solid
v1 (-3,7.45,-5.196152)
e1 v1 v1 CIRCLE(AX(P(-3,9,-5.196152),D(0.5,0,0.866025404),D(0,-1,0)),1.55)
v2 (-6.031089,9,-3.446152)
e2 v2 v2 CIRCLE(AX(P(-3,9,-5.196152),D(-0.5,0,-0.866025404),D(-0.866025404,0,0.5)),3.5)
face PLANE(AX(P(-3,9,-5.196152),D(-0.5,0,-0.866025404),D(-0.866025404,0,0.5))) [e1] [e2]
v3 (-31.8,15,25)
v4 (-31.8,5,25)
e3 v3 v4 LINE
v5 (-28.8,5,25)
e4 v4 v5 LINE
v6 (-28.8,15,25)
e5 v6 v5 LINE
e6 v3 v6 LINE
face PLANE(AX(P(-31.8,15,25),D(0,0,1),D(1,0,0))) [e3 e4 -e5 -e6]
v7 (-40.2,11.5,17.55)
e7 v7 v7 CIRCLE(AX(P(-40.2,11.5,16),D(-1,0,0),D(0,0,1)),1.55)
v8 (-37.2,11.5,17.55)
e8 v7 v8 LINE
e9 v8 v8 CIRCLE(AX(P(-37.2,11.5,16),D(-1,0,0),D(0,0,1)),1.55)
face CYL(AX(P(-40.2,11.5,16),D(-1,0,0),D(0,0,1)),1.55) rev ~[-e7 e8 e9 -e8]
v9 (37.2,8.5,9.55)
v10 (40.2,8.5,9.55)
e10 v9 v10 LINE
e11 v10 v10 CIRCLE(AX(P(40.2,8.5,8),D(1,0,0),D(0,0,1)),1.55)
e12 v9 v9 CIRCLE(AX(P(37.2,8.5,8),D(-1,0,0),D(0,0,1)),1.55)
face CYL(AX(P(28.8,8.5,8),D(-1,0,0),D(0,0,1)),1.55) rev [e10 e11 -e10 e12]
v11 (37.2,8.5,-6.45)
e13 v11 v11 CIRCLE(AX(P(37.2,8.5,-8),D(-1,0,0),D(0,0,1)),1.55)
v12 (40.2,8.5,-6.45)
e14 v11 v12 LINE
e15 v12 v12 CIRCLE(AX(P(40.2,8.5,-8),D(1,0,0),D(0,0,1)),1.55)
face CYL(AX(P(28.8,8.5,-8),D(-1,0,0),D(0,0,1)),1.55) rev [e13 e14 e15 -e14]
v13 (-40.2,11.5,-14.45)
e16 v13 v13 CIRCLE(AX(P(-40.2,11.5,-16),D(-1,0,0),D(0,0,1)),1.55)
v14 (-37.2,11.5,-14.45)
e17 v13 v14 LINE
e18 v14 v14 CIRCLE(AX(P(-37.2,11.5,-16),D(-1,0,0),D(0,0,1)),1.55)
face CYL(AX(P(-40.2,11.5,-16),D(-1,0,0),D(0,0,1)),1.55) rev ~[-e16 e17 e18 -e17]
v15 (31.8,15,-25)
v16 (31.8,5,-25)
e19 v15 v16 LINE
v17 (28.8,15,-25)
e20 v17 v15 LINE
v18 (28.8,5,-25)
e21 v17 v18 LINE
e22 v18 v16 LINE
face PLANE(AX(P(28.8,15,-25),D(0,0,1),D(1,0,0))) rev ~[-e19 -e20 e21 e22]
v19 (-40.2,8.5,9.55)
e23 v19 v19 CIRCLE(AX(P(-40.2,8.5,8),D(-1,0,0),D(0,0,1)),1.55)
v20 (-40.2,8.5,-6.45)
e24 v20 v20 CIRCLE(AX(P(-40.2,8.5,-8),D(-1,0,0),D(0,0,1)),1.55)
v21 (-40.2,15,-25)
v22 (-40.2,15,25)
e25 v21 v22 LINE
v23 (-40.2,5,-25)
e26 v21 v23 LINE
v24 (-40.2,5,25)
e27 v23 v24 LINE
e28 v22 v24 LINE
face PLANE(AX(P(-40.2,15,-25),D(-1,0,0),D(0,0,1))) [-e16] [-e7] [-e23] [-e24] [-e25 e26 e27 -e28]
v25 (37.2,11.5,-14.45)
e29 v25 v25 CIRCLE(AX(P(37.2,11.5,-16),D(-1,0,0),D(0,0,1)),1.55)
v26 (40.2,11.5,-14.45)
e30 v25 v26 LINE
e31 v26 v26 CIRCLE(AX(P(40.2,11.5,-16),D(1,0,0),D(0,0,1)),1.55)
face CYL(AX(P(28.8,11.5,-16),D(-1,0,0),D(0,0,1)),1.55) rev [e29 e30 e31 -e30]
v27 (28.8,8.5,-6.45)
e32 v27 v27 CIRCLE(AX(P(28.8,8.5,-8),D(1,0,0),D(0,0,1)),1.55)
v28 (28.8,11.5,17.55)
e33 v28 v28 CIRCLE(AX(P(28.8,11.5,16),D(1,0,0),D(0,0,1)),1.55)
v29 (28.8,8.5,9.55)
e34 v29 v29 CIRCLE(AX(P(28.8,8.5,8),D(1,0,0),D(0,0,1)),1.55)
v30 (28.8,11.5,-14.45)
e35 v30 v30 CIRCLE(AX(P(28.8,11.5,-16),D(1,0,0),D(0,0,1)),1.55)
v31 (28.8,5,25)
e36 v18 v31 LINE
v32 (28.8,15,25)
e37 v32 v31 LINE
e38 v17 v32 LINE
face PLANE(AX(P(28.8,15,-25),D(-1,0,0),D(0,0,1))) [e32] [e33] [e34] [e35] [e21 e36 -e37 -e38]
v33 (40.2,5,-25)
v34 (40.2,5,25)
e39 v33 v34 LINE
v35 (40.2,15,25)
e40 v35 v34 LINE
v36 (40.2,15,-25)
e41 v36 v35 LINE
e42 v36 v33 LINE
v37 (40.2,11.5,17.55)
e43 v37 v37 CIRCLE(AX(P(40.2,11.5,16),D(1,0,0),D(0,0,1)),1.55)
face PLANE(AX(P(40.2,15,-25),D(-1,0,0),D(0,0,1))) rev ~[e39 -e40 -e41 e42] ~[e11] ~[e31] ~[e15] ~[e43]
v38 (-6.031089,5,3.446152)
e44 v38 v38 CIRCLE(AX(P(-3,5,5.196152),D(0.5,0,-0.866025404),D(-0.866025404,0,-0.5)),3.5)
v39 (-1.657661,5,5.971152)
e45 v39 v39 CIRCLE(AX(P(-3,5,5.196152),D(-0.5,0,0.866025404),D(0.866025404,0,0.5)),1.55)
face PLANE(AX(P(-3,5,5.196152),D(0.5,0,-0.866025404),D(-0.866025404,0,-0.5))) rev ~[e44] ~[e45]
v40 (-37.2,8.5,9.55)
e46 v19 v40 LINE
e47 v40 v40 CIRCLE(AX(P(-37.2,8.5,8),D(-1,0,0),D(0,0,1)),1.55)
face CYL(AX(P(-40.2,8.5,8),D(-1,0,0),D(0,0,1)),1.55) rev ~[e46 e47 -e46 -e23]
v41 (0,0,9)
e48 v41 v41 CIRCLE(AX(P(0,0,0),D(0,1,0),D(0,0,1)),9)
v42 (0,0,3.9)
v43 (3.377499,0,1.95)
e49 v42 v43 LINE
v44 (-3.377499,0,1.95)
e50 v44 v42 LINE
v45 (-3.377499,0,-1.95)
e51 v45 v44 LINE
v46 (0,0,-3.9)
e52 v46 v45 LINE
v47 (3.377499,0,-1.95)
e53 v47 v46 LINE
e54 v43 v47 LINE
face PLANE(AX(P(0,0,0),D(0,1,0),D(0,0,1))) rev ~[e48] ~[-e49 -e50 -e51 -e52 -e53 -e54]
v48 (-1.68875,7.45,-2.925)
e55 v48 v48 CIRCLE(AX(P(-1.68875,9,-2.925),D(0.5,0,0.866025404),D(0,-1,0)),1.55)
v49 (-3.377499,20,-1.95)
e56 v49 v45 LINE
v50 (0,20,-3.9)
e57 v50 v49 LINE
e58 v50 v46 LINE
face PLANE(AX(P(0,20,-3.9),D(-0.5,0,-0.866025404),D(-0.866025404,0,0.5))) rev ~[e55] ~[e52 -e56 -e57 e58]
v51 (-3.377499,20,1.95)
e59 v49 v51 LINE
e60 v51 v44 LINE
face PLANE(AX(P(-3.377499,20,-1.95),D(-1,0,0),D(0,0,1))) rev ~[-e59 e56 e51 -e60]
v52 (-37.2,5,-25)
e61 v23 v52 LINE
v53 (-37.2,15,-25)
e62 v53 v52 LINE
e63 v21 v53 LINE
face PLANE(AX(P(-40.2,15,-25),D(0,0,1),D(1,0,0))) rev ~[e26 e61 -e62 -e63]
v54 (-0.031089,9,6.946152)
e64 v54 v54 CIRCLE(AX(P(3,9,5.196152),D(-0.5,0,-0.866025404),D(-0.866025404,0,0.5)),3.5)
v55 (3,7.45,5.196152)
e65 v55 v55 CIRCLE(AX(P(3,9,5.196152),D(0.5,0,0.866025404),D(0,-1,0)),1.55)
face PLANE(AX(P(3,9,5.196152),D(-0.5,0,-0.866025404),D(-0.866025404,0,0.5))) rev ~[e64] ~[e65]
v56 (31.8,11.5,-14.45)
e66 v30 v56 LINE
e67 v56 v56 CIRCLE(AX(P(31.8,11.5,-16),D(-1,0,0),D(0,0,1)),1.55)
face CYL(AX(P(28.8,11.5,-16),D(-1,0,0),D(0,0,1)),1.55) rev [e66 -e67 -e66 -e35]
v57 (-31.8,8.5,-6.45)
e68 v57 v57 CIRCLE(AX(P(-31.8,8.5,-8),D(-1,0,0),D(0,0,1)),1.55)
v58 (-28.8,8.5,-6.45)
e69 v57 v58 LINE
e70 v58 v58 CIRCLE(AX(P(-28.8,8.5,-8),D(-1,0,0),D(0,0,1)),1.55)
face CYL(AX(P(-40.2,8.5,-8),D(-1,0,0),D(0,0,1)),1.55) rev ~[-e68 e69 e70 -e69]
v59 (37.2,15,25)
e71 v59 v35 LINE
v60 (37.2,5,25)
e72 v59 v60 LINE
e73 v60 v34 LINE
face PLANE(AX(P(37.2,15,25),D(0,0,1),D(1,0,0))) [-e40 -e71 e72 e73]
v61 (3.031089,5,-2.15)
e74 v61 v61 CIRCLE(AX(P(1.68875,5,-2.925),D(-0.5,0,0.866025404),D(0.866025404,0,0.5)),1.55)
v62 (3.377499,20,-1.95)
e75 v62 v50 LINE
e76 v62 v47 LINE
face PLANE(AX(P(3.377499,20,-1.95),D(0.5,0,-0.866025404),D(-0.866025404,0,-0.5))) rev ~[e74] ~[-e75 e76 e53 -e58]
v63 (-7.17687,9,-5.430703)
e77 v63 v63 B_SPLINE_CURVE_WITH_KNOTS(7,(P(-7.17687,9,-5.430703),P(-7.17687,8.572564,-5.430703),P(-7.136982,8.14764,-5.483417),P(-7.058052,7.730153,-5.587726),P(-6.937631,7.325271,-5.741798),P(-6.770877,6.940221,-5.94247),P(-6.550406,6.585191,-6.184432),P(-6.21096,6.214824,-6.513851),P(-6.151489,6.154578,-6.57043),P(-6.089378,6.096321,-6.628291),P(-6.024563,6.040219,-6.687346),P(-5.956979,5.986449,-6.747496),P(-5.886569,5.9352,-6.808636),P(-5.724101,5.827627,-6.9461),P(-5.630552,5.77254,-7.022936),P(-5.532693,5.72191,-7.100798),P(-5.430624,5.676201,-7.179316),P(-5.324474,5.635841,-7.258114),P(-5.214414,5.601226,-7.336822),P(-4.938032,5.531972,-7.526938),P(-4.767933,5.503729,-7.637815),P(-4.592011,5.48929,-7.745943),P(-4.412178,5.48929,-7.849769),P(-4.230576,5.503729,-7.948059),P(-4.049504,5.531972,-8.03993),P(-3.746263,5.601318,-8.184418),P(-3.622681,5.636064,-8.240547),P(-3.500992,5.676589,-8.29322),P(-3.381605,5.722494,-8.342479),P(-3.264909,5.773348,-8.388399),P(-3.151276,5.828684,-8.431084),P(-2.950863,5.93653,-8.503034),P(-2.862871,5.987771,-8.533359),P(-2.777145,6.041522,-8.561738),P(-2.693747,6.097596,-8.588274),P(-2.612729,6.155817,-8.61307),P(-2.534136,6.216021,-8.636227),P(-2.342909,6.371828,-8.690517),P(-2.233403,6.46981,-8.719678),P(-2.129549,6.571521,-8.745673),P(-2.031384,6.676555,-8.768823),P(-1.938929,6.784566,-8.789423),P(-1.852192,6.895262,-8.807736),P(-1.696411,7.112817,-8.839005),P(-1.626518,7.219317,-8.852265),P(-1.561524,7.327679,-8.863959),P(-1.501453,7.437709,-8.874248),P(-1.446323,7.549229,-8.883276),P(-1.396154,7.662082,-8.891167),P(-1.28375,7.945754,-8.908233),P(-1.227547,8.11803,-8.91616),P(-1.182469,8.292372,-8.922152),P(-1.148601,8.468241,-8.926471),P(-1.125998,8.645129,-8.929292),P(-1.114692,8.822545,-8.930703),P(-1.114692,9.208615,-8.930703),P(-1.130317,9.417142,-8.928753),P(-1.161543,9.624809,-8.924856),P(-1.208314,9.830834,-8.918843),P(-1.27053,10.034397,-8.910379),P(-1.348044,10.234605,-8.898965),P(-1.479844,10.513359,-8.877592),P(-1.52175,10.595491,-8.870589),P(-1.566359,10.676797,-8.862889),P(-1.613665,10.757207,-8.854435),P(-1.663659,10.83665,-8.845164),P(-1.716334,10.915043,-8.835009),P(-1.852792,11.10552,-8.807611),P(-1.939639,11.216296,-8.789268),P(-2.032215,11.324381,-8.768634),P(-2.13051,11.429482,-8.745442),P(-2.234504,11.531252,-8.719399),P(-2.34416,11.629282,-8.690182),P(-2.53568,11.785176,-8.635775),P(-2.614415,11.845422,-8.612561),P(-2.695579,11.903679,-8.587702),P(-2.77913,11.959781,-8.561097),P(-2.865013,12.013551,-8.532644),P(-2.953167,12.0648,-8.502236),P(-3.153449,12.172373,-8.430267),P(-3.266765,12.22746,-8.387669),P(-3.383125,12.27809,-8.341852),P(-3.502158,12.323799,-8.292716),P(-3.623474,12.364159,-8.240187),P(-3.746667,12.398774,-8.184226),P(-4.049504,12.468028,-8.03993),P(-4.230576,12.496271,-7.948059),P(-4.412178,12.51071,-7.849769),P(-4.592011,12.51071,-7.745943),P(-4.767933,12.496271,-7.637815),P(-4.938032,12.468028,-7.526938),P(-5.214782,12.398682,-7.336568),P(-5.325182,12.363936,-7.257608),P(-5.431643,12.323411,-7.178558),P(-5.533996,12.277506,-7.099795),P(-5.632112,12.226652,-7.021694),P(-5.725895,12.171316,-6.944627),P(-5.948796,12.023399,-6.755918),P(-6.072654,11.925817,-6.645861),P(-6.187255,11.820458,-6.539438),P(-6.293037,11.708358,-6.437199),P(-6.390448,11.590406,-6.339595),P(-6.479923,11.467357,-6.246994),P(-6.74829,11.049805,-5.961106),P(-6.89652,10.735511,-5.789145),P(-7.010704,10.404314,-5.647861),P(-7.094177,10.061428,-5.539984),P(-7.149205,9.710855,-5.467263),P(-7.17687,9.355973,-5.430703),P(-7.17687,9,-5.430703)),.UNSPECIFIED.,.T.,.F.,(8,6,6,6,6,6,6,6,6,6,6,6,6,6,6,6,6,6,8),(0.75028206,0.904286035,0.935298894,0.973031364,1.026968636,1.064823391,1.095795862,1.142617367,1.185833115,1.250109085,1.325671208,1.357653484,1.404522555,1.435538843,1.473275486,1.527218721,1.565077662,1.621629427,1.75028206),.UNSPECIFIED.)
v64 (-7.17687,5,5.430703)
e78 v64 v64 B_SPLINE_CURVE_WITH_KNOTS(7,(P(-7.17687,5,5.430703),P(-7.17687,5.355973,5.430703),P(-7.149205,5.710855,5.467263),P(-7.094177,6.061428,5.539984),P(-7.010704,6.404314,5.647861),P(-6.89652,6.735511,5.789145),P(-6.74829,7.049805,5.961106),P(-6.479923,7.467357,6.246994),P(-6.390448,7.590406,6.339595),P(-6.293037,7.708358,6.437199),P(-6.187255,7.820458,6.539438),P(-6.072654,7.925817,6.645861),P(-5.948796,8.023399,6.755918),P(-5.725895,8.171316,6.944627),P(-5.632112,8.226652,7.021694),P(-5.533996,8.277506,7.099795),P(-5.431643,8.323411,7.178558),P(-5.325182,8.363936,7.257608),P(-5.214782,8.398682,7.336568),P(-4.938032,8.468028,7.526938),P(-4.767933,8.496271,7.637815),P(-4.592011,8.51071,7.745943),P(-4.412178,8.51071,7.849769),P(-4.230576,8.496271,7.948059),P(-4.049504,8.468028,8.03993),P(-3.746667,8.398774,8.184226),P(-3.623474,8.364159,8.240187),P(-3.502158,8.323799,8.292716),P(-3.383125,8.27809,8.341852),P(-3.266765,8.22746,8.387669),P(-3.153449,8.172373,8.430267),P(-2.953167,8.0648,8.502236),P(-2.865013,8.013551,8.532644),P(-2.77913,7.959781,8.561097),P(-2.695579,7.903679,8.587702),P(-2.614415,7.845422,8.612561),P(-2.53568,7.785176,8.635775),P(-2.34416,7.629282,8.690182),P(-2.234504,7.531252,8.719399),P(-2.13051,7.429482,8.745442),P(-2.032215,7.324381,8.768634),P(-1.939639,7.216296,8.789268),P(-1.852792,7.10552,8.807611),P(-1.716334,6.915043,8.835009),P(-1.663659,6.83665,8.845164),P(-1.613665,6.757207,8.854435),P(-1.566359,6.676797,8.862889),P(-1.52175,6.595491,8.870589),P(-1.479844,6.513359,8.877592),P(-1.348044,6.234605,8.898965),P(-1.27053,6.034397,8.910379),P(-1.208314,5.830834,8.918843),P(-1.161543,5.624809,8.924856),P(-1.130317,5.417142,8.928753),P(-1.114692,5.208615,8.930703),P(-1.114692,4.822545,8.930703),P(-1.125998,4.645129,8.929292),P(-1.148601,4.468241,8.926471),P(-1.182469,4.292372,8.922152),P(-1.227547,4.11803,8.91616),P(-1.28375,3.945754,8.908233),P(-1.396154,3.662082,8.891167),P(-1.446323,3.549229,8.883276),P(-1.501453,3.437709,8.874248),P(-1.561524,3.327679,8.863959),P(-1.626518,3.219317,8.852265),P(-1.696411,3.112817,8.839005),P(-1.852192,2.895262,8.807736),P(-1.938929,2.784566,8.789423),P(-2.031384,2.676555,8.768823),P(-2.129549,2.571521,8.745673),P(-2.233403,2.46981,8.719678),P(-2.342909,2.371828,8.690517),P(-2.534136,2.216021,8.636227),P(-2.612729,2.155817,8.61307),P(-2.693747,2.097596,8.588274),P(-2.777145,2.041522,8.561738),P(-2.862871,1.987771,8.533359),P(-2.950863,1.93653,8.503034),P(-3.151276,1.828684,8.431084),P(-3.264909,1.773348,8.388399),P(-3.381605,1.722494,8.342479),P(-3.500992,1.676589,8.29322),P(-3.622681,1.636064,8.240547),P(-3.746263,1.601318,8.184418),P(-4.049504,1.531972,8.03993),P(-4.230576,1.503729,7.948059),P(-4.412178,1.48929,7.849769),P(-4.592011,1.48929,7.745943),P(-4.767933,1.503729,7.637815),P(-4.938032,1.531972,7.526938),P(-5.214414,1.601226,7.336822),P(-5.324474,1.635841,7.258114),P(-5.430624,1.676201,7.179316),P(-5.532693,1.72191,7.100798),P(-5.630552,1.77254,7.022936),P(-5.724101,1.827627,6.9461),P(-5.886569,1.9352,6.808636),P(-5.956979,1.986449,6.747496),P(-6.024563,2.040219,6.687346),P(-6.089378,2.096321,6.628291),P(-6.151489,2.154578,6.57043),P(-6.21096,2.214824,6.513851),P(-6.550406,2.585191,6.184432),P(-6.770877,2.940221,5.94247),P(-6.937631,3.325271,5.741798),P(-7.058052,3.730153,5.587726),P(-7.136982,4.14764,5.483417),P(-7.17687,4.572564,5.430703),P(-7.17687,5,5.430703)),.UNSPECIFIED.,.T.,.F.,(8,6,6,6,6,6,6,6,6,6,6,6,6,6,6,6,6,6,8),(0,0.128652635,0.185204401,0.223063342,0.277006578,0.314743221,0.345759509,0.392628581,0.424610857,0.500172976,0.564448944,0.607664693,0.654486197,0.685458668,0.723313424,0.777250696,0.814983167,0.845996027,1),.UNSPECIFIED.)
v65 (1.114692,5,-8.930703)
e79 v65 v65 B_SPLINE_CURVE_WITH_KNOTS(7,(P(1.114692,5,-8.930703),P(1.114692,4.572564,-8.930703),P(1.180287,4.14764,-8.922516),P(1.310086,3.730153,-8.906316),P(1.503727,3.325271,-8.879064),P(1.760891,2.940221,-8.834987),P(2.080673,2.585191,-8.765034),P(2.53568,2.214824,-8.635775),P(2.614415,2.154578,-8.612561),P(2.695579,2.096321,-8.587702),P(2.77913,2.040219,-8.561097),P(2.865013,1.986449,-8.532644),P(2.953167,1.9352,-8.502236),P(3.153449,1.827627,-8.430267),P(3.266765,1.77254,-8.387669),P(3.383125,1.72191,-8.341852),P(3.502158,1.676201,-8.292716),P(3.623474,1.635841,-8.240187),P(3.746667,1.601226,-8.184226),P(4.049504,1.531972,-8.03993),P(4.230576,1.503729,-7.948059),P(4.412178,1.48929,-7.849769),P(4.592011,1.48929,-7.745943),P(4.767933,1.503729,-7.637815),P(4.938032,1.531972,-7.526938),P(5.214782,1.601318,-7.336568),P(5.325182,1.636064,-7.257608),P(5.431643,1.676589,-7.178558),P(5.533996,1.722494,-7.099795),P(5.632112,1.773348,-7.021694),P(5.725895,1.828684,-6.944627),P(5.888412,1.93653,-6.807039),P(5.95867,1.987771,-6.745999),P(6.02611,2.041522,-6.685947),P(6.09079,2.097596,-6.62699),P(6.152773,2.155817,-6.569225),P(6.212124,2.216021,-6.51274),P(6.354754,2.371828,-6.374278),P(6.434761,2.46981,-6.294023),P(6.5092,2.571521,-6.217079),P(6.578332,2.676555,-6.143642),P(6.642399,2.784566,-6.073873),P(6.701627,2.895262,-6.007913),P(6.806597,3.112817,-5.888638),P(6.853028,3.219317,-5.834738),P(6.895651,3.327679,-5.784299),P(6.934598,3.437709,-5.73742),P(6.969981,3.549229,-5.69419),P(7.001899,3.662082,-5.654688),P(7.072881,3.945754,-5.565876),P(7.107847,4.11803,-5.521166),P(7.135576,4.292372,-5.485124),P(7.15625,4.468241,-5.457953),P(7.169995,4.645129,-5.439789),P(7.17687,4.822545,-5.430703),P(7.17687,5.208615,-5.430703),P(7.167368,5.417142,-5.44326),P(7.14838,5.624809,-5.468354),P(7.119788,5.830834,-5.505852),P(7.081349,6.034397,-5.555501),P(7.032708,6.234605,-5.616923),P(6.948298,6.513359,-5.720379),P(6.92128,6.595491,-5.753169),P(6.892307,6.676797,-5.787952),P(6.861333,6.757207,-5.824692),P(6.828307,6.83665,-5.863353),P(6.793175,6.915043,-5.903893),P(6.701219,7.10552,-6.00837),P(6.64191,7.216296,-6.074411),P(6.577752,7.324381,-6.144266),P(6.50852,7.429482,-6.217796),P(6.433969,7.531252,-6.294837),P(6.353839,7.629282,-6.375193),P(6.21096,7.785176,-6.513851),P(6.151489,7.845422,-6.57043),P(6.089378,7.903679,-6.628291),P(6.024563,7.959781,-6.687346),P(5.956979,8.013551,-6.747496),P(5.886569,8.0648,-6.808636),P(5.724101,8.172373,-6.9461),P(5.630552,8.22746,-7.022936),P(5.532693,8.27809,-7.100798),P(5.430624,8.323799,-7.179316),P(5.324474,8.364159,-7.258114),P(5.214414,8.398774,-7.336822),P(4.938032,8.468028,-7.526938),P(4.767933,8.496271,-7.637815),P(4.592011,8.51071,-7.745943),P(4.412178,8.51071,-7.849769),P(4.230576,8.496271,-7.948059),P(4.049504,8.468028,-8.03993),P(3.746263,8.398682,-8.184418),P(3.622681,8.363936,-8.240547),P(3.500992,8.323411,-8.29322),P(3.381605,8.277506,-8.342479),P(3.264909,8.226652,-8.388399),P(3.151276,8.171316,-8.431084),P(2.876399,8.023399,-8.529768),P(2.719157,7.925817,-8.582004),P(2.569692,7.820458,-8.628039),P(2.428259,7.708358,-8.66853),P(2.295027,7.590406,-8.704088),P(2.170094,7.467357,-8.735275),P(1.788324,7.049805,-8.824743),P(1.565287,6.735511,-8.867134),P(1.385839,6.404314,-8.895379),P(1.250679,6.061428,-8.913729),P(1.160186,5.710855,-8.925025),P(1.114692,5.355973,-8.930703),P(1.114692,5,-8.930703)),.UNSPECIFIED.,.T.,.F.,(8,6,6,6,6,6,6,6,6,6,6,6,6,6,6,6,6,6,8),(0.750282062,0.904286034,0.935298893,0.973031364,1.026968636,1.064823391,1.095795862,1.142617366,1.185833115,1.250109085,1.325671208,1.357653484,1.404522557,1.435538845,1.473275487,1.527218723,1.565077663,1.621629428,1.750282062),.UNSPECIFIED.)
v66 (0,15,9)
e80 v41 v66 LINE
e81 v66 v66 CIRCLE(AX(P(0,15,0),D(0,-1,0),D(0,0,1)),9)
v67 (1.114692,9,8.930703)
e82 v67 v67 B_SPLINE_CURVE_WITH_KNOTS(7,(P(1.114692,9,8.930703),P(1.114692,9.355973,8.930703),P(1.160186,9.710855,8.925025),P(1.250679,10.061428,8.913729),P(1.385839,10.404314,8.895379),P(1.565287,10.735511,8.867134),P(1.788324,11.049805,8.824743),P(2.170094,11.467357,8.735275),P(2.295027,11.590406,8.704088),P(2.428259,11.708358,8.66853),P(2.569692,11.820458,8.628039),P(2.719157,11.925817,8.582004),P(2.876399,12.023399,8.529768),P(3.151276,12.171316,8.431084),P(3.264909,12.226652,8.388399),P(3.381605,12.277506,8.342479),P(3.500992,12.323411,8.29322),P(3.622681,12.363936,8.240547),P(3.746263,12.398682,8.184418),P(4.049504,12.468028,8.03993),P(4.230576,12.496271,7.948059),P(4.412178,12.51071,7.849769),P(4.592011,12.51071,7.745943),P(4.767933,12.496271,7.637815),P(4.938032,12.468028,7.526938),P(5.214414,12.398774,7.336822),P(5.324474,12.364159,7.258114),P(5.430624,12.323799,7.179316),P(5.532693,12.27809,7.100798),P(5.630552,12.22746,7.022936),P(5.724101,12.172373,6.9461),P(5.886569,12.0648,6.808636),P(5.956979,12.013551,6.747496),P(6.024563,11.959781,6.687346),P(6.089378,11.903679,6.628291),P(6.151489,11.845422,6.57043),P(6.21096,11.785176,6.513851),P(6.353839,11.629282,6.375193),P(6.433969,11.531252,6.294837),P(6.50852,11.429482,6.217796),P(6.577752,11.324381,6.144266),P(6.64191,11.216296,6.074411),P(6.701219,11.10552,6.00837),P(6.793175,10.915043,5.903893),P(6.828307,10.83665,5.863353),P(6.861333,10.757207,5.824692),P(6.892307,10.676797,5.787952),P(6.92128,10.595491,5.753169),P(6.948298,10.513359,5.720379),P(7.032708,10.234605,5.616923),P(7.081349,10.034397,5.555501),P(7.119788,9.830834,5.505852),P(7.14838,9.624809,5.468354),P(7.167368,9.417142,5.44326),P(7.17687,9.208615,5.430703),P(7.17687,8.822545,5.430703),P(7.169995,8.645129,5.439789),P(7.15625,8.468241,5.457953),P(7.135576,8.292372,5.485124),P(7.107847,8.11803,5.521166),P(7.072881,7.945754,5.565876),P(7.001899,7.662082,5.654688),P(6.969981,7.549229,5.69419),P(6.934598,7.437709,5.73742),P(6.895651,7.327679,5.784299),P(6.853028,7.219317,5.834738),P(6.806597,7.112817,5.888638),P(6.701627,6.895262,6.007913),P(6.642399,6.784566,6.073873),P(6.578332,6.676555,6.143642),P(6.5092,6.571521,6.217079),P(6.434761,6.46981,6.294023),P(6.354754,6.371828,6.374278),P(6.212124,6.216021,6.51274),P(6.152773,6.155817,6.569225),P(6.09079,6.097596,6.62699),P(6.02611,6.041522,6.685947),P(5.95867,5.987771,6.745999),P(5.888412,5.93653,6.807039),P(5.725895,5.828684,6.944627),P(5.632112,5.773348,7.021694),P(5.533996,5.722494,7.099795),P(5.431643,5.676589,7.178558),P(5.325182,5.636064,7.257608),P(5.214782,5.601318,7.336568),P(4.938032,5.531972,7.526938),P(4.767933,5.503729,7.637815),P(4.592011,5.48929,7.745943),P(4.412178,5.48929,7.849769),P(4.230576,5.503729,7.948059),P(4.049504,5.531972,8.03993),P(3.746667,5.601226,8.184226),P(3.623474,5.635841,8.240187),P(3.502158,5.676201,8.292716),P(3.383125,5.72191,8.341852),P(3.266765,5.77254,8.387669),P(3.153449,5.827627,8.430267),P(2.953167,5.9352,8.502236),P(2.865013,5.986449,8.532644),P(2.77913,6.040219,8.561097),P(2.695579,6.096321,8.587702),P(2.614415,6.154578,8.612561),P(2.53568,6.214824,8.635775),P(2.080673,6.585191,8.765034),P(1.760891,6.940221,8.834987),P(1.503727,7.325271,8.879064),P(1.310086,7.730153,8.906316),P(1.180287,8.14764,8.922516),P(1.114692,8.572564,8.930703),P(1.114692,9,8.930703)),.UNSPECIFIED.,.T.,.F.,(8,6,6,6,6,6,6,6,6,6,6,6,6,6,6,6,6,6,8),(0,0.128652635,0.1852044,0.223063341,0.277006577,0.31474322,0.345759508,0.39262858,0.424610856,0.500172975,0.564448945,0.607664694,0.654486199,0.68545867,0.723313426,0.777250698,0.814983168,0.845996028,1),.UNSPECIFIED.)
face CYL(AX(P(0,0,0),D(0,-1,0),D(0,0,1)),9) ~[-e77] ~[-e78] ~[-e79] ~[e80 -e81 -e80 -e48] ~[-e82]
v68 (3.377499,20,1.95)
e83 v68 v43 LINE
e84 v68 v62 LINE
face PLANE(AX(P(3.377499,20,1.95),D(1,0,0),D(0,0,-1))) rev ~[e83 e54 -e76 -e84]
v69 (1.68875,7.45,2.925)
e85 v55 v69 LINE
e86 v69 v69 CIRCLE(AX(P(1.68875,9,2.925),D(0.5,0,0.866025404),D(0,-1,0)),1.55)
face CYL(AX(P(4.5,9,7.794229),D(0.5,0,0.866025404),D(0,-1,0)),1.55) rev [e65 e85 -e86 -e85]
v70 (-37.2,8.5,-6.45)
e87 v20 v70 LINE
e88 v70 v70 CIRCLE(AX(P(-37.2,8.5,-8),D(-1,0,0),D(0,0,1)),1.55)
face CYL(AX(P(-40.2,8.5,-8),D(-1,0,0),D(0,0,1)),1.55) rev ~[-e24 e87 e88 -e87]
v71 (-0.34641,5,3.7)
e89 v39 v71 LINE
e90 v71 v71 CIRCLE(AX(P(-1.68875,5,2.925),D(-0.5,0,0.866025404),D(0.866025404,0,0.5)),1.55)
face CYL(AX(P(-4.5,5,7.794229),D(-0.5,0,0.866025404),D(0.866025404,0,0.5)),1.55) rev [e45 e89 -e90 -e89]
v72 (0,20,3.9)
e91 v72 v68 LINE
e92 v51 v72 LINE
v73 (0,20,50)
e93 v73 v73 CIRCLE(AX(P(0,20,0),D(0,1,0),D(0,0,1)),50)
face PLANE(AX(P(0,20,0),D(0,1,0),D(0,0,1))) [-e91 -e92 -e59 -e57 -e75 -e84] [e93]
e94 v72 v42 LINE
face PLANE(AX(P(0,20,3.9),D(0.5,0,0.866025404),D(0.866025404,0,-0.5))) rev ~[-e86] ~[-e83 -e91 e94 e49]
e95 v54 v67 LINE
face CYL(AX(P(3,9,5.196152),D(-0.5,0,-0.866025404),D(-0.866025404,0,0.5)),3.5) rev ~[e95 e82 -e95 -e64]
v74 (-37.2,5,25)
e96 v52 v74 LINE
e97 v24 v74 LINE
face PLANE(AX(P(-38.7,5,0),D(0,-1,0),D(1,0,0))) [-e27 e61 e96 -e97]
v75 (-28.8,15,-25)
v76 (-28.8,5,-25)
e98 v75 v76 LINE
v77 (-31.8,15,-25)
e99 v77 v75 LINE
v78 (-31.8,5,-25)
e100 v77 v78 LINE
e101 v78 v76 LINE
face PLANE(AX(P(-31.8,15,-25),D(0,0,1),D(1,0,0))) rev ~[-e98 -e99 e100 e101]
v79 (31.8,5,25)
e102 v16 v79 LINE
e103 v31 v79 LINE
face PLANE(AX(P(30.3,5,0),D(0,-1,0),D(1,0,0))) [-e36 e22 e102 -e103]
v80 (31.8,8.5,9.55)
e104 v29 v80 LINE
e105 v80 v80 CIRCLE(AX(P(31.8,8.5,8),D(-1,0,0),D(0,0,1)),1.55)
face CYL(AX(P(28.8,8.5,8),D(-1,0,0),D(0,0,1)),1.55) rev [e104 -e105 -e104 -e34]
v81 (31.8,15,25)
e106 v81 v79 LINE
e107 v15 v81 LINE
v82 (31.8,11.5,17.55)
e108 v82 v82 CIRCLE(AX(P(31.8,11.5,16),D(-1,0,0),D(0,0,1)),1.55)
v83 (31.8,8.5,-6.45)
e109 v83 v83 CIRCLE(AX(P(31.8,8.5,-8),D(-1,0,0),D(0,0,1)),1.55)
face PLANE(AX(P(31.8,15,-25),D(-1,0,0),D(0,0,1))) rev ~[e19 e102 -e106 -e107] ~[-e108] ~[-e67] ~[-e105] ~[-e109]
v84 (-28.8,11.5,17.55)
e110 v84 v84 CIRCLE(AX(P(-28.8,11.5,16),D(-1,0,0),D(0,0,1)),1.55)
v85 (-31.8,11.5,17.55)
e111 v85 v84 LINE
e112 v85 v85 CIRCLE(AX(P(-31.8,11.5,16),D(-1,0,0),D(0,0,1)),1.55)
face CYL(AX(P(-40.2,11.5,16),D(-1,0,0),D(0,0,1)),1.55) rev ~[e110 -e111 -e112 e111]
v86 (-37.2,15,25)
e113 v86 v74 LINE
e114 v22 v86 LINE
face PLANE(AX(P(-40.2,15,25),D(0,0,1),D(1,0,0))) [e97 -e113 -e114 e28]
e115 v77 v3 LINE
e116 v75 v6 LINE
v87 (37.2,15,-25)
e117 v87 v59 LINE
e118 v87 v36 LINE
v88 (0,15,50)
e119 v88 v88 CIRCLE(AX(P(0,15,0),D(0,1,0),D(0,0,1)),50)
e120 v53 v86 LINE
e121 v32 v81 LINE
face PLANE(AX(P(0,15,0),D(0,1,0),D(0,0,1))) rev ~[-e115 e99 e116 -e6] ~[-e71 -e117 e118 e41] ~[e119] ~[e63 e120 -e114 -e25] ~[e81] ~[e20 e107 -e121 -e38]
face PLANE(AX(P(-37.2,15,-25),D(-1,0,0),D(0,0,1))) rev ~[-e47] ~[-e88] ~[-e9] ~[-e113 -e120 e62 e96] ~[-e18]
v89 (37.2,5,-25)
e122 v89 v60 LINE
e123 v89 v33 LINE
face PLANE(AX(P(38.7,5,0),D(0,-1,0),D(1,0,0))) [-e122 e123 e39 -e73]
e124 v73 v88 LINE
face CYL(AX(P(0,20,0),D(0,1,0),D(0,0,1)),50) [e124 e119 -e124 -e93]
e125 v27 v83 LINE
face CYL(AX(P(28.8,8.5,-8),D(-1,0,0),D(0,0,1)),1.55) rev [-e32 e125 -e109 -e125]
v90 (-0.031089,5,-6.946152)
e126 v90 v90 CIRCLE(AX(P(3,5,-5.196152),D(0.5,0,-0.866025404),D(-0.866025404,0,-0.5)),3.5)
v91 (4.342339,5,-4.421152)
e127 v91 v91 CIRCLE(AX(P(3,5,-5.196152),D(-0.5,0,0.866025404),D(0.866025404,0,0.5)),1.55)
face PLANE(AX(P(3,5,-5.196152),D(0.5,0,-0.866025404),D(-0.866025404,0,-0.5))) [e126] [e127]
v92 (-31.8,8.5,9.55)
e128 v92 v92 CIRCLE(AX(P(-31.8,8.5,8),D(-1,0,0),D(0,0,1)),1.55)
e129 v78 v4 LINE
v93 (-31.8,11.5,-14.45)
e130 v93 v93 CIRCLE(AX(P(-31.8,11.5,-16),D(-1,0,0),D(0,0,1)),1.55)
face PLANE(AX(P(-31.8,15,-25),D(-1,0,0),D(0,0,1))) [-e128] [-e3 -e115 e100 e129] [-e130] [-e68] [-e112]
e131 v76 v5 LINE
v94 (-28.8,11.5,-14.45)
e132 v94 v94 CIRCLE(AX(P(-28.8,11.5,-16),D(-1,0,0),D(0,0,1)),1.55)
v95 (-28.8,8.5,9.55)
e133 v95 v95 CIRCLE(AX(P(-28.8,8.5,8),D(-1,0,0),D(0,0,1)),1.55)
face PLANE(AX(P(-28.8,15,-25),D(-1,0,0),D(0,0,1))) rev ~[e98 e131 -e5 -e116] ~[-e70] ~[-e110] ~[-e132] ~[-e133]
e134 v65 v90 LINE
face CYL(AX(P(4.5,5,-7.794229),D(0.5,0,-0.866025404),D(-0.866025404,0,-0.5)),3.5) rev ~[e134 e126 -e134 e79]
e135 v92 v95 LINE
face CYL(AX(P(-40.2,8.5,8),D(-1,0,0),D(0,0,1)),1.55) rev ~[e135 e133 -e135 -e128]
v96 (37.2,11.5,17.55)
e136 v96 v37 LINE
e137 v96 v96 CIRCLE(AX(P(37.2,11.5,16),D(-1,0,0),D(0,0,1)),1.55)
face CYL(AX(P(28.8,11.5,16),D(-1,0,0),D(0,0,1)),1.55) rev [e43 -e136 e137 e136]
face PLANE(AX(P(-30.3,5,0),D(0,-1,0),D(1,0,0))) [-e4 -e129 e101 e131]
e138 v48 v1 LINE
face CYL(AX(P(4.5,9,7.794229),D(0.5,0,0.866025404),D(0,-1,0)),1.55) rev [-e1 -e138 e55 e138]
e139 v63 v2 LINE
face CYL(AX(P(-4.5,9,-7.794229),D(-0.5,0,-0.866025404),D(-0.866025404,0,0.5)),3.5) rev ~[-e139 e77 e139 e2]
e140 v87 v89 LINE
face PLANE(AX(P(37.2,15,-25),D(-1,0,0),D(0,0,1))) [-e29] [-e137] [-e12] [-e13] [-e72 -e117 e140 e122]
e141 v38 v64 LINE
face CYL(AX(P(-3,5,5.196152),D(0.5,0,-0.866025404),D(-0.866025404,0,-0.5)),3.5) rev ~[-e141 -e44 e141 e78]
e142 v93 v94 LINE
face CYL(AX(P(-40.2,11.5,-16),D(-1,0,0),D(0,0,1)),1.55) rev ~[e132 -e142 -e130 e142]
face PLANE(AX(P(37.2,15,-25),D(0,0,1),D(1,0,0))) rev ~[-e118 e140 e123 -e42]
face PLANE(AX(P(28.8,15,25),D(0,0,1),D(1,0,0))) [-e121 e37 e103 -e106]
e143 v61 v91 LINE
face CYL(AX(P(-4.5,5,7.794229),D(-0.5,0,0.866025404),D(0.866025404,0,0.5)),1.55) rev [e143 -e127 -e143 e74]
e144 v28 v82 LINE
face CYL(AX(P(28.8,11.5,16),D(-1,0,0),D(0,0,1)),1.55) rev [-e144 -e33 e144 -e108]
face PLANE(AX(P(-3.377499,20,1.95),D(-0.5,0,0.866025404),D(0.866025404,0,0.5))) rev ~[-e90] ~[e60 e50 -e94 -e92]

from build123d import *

# Parameters (mm, degrees)
SKETCH2_R               = 9
BOSS_EXTRUDE1_DEPTH     = 20
CUT_EXTRUDE1_DEPTH      = 20
SKETCH4_R               = 50
SKETCH4_R_2             = 4.5
BOSS_EXTRUDE3_DEPTH     = 5
CUT_EXTRUDE2_DEPTH      = 9
CUT_EXTRUDE2_DEPTH_BACK = 9
SKETCH11_R              = 1.55
CUT_EXTRUDE9_DEPTH      = 9
CUT_EXTRUDE9_DEPTH_BACK = 9
SKETCH15_R              = 1.55
SKETCH16_W              = 3
SKETCH16_H              = 50
BOSS_EXTRUDE4_DEPTH     = 10
CUT_EXTRUDE10_REACH     = 107.053
SKETCH17_R              = 1.55
CUT_EXTRUDE11_START     = -11.4
SKETCH18_R              = 1.55
CUT_EXTRUDE11_DEPTH     = 11.4
CUT_EXTRUDE14_START     = 9
SKETCH19_R              = 3.5
CUT_EXTRUDE14_DEPTH     = 3
CUT_EXTRUDE15_START     = -6
SKETCH19_3_R            = 3.5
CUT_EXTRUDE15_DEPTH     = 3
CUT_EXTRUDE16_START     = 9
SKETCH20_R              = 3.5
CUT_EXTRUDE16_DEPTH     = 3
CUT_EXTRUDE17_START     = -6
SKETCH20_2_R            = 3.5
CUT_EXTRUDE17_DEPTH     = 3


with BuildPart() as part:
    # Sketch2 → Boss-Extrude1 (new body)
    with BuildSketch(Plane(origin=(0, 0, 0), x_dir=(1, 0, 0), z_dir=(0, 1, 0))):
        with Locations(Location((0, 0, 0), (0, 0, 270))):
            Circle(SKETCH2_R)
    extrude(amount=BOSS_EXTRUDE1_DEPTH)

    # Sketch3 → Cut-Extrude1 (cut)
    with BuildSketch(Plane(origin=(0, 20, 0), x_dir=(1, 0, 0), z_dir=(0, 1, 0))):
        Polygon((0, 3.9), (-3.377499075, 1.95), (-3.377499075, -1.95), (0, -3.9), (3.377499075, -1.95), (3.377499075, 1.95), align=None)
    extrude(amount=-CUT_EXTRUDE1_DEPTH, mode=Mode.SUBTRACT)

    # Sketch4 → Boss-Extrude3 (add)
    with BuildSketch(Plane(origin=(0, 20, 0), x_dir=(1, 0, 0), z_dir=(0, 1, 0))):
        with Locations(Location((0, 0, 0), (0, 0, 270))):
            Circle(SKETCH4_R)
        Circle(SKETCH4_R_2, mode=Mode.SUBTRACT)
    extrude(amount=-BOSS_EXTRUDE3_DEPTH)

    # Sketch11 → Cut-Extrude2 (cut, two sides: drawn at the far end of the back side and taken through both)
    with BuildSketch(Plane(origin=(0, 0, 0), x_dir=(-0.8660254037844387, 0, -0.49999999999999983), z_dir=(0.49999999999999983, 0, -0.8660254037844387)).offset(-CUT_EXTRUDE2_DEPTH_BACK)):
        with Locations(Location((0, 5, 0), (0, 0, 180))):
            Circle(SKETCH11_R)
    extrude(amount=CUT_EXTRUDE2_DEPTH + CUT_EXTRUDE2_DEPTH_BACK, mode=Mode.SUBTRACT)

    # Sketch15 → Cut-Extrude9 (cut, two sides: drawn at the far end of the back side and taken through both)
    with BuildSketch(Plane(origin=(0, 0, 0), x_dir=(-0.866025403784439, 0, 0.49999999999999944), z_dir=(-0.49999999999999944, 0, -0.866025403784439)).offset(-CUT_EXTRUDE9_DEPTH_BACK)):
        with Locations(Location((0, 9, 0), (0, 0, 270))):
            Circle(SKETCH15_R)
    extrude(amount=CUT_EXTRUDE9_DEPTH + CUT_EXTRUDE9_DEPTH_BACK, mode=Mode.SUBTRACT)

    # Sketch16 → Boss-Extrude4 (add)
    with BuildSketch(Plane.XZ.offset(-15)):
        with Locations((-30.3, 0)):
            Rectangle(SKETCH16_W, SKETCH16_H)
        with Locations((-38.7, 0)):
            Rectangle(SKETCH16_W, SKETCH16_H)
        with Locations((30.3, 0)):
            Rectangle(SKETCH16_W, SKETCH16_H)
        with Locations((38.7, 0)):
            Rectangle(SKETCH16_W, SKETCH16_H)
    extrude(amount=BOSS_EXTRUDE4_DEPTH)

    # Cut-Extrude10: up to this face of the body (flat: up to its plane)
    cut_extrude10_end = Plane(part.part.faces().sort_by_distance((-28.8, 10, 0))[0])
    # Sketch17 → Cut-Extrude10 (cut, up to the picked face)
    with BuildSketch(Plane.ZY.offset(40.2), mode=Mode.PRIVATE) as cut_extrude10_sk1:
        with Locations((-16, 11.5)):
            Circle(SKETCH17_R)
    cut_extrude10_tool1 = split(extrude(cut_extrude10_sk1.sketch, amount=-CUT_EXTRUDE10_REACH, mode=Mode.PRIVATE), bisect_by=cut_extrude10_end, keep=Keep.BOTH, mode=Mode.PRIVATE)
    # Sketch17 → Cut-Extrude10 (cut, up to the picked face)
    with BuildSketch(Plane.ZY.offset(40.2), mode=Mode.PRIVATE) as cut_extrude10_sk2:
        with Locations((-8, 8.5)):
            Circle(SKETCH17_R)
    cut_extrude10_tool2 = split(extrude(cut_extrude10_sk2.sketch, amount=-CUT_EXTRUDE10_REACH, mode=Mode.PRIVATE), bisect_by=cut_extrude10_end, keep=Keep.BOTH, mode=Mode.PRIVATE)
    # Sketch17 → Cut-Extrude10 (cut, up to the picked face)
    with BuildSketch(Plane.ZY.offset(40.2), mode=Mode.PRIVATE) as cut_extrude10_sk3:
        with Locations((8, 8.5)):
            Circle(SKETCH17_R)
    cut_extrude10_tool3 = split(extrude(cut_extrude10_sk3.sketch, amount=-CUT_EXTRUDE10_REACH, mode=Mode.PRIVATE), bisect_by=cut_extrude10_end, keep=Keep.BOTH, mode=Mode.PRIVATE)
    # Sketch17 → Cut-Extrude10 (cut, up to the picked face)
    with BuildSketch(Plane.ZY.offset(40.2), mode=Mode.PRIVATE) as cut_extrude10_sk4:
        with Locations((16, 11.5)):
            Circle(SKETCH17_R)
    cut_extrude10_tool4 = split(extrude(cut_extrude10_sk4.sketch, amount=-CUT_EXTRUDE10_REACH, mode=Mode.PRIVATE), bisect_by=cut_extrude10_end, keep=Keep.BOTH, mode=Mode.PRIVATE)
    add(cut_extrude10_tool1.solids().sort_by(Axis((-40.2, 11.5, -16), (1, 0, 0)))[0], mode=Mode.SUBTRACT)
    add(cut_extrude10_tool2.solids().sort_by(Axis((-40.2, 8.5, -8), (1, 0, 0)))[0], mode=Mode.SUBTRACT)
    add(cut_extrude10_tool3.solids().sort_by(Axis((-40.2, 8.5, 8), (1, 0, 0)))[0], mode=Mode.SUBTRACT)
    add(cut_extrude10_tool4.solids().sort_by(Axis((-40.2, 11.5, 16), (1, 0, 0)))[0], mode=Mode.SUBTRACT)

    # Sketch18 → Cut-Extrude11 (cut)
    with BuildSketch(Plane(origin=(40.2, 0, 0), x_dir=(0, 0, -1), z_dir=(1, 0, 0)).offset(CUT_EXTRUDE11_START)):
        with Locations(Location((-8, 8.5, 0), (0, 0, 180))):
            Circle(SKETCH18_R)
        with Locations(Location((8, 8.5, 0), (0, 0, 180))):
            Circle(SKETCH18_R)
        with Locations(Location((16, 11.5, 0), (0, 0, 180))):
            Circle(SKETCH18_R)
        with Locations(Location((-16, 11.5, 0), (0, 0, 180))):
            Circle(SKETCH18_R)
    extrude(amount=CUT_EXTRUDE11_DEPTH, mode=Mode.SUBTRACT)

    # Sketch19 → Cut-Extrude14 (cut)
    with BuildSketch(Plane(origin=(0, 0, 0), x_dir=(-0.866025403784439, 0, 0.49999999999999944), z_dir=(-0.49999999999999944, 0, -0.866025403784439)).offset(CUT_EXTRUDE14_START)):
        with Locations((0, 9)):
            Circle(SKETCH19_R)
    extrude(amount=-CUT_EXTRUDE14_DEPTH, mode=Mode.SUBTRACT)

    # Sketch19<3> → Cut-Extrude15 (cut)
    with BuildSketch(Plane(origin=(0, 0, 0), x_dir=(-0.866025403784439, 0, 0.49999999999999944), z_dir=(-0.49999999999999944, 0, -0.866025403784439)).offset(CUT_EXTRUDE15_START)):
        with Locations((0, 9)):
            Circle(SKETCH19_3_R)
    extrude(amount=-CUT_EXTRUDE15_DEPTH, mode=Mode.SUBTRACT)

    # Sketch20 → Cut-Extrude16 (cut)
    with BuildSketch(Plane(origin=(0, 0, 0), x_dir=(-0.8660254037844387, 0, -0.49999999999999983), z_dir=(0.49999999999999983, 0, -0.8660254037844387)).offset(CUT_EXTRUDE16_START)):
        with Locations((0, 5)):
            Circle(SKETCH20_R)
    extrude(amount=-CUT_EXTRUDE16_DEPTH, mode=Mode.SUBTRACT)

    # Sketch20<2> → Cut-Extrude17 (cut)
    with BuildSketch(Plane(origin=(0, 0, 0), x_dir=(-0.8660254037844387, 0, -0.49999999999999983), z_dir=(0.49999999999999983, 0, -0.8660254037844387)).offset(CUT_EXTRUDE17_START)):
        with Locations((0, 5)):
            Circle(SKETCH20_2_R)
    extrude(amount=-CUT_EXTRUDE17_DEPTH, mode=Mode.SUBTRACT)


solid = part.part
